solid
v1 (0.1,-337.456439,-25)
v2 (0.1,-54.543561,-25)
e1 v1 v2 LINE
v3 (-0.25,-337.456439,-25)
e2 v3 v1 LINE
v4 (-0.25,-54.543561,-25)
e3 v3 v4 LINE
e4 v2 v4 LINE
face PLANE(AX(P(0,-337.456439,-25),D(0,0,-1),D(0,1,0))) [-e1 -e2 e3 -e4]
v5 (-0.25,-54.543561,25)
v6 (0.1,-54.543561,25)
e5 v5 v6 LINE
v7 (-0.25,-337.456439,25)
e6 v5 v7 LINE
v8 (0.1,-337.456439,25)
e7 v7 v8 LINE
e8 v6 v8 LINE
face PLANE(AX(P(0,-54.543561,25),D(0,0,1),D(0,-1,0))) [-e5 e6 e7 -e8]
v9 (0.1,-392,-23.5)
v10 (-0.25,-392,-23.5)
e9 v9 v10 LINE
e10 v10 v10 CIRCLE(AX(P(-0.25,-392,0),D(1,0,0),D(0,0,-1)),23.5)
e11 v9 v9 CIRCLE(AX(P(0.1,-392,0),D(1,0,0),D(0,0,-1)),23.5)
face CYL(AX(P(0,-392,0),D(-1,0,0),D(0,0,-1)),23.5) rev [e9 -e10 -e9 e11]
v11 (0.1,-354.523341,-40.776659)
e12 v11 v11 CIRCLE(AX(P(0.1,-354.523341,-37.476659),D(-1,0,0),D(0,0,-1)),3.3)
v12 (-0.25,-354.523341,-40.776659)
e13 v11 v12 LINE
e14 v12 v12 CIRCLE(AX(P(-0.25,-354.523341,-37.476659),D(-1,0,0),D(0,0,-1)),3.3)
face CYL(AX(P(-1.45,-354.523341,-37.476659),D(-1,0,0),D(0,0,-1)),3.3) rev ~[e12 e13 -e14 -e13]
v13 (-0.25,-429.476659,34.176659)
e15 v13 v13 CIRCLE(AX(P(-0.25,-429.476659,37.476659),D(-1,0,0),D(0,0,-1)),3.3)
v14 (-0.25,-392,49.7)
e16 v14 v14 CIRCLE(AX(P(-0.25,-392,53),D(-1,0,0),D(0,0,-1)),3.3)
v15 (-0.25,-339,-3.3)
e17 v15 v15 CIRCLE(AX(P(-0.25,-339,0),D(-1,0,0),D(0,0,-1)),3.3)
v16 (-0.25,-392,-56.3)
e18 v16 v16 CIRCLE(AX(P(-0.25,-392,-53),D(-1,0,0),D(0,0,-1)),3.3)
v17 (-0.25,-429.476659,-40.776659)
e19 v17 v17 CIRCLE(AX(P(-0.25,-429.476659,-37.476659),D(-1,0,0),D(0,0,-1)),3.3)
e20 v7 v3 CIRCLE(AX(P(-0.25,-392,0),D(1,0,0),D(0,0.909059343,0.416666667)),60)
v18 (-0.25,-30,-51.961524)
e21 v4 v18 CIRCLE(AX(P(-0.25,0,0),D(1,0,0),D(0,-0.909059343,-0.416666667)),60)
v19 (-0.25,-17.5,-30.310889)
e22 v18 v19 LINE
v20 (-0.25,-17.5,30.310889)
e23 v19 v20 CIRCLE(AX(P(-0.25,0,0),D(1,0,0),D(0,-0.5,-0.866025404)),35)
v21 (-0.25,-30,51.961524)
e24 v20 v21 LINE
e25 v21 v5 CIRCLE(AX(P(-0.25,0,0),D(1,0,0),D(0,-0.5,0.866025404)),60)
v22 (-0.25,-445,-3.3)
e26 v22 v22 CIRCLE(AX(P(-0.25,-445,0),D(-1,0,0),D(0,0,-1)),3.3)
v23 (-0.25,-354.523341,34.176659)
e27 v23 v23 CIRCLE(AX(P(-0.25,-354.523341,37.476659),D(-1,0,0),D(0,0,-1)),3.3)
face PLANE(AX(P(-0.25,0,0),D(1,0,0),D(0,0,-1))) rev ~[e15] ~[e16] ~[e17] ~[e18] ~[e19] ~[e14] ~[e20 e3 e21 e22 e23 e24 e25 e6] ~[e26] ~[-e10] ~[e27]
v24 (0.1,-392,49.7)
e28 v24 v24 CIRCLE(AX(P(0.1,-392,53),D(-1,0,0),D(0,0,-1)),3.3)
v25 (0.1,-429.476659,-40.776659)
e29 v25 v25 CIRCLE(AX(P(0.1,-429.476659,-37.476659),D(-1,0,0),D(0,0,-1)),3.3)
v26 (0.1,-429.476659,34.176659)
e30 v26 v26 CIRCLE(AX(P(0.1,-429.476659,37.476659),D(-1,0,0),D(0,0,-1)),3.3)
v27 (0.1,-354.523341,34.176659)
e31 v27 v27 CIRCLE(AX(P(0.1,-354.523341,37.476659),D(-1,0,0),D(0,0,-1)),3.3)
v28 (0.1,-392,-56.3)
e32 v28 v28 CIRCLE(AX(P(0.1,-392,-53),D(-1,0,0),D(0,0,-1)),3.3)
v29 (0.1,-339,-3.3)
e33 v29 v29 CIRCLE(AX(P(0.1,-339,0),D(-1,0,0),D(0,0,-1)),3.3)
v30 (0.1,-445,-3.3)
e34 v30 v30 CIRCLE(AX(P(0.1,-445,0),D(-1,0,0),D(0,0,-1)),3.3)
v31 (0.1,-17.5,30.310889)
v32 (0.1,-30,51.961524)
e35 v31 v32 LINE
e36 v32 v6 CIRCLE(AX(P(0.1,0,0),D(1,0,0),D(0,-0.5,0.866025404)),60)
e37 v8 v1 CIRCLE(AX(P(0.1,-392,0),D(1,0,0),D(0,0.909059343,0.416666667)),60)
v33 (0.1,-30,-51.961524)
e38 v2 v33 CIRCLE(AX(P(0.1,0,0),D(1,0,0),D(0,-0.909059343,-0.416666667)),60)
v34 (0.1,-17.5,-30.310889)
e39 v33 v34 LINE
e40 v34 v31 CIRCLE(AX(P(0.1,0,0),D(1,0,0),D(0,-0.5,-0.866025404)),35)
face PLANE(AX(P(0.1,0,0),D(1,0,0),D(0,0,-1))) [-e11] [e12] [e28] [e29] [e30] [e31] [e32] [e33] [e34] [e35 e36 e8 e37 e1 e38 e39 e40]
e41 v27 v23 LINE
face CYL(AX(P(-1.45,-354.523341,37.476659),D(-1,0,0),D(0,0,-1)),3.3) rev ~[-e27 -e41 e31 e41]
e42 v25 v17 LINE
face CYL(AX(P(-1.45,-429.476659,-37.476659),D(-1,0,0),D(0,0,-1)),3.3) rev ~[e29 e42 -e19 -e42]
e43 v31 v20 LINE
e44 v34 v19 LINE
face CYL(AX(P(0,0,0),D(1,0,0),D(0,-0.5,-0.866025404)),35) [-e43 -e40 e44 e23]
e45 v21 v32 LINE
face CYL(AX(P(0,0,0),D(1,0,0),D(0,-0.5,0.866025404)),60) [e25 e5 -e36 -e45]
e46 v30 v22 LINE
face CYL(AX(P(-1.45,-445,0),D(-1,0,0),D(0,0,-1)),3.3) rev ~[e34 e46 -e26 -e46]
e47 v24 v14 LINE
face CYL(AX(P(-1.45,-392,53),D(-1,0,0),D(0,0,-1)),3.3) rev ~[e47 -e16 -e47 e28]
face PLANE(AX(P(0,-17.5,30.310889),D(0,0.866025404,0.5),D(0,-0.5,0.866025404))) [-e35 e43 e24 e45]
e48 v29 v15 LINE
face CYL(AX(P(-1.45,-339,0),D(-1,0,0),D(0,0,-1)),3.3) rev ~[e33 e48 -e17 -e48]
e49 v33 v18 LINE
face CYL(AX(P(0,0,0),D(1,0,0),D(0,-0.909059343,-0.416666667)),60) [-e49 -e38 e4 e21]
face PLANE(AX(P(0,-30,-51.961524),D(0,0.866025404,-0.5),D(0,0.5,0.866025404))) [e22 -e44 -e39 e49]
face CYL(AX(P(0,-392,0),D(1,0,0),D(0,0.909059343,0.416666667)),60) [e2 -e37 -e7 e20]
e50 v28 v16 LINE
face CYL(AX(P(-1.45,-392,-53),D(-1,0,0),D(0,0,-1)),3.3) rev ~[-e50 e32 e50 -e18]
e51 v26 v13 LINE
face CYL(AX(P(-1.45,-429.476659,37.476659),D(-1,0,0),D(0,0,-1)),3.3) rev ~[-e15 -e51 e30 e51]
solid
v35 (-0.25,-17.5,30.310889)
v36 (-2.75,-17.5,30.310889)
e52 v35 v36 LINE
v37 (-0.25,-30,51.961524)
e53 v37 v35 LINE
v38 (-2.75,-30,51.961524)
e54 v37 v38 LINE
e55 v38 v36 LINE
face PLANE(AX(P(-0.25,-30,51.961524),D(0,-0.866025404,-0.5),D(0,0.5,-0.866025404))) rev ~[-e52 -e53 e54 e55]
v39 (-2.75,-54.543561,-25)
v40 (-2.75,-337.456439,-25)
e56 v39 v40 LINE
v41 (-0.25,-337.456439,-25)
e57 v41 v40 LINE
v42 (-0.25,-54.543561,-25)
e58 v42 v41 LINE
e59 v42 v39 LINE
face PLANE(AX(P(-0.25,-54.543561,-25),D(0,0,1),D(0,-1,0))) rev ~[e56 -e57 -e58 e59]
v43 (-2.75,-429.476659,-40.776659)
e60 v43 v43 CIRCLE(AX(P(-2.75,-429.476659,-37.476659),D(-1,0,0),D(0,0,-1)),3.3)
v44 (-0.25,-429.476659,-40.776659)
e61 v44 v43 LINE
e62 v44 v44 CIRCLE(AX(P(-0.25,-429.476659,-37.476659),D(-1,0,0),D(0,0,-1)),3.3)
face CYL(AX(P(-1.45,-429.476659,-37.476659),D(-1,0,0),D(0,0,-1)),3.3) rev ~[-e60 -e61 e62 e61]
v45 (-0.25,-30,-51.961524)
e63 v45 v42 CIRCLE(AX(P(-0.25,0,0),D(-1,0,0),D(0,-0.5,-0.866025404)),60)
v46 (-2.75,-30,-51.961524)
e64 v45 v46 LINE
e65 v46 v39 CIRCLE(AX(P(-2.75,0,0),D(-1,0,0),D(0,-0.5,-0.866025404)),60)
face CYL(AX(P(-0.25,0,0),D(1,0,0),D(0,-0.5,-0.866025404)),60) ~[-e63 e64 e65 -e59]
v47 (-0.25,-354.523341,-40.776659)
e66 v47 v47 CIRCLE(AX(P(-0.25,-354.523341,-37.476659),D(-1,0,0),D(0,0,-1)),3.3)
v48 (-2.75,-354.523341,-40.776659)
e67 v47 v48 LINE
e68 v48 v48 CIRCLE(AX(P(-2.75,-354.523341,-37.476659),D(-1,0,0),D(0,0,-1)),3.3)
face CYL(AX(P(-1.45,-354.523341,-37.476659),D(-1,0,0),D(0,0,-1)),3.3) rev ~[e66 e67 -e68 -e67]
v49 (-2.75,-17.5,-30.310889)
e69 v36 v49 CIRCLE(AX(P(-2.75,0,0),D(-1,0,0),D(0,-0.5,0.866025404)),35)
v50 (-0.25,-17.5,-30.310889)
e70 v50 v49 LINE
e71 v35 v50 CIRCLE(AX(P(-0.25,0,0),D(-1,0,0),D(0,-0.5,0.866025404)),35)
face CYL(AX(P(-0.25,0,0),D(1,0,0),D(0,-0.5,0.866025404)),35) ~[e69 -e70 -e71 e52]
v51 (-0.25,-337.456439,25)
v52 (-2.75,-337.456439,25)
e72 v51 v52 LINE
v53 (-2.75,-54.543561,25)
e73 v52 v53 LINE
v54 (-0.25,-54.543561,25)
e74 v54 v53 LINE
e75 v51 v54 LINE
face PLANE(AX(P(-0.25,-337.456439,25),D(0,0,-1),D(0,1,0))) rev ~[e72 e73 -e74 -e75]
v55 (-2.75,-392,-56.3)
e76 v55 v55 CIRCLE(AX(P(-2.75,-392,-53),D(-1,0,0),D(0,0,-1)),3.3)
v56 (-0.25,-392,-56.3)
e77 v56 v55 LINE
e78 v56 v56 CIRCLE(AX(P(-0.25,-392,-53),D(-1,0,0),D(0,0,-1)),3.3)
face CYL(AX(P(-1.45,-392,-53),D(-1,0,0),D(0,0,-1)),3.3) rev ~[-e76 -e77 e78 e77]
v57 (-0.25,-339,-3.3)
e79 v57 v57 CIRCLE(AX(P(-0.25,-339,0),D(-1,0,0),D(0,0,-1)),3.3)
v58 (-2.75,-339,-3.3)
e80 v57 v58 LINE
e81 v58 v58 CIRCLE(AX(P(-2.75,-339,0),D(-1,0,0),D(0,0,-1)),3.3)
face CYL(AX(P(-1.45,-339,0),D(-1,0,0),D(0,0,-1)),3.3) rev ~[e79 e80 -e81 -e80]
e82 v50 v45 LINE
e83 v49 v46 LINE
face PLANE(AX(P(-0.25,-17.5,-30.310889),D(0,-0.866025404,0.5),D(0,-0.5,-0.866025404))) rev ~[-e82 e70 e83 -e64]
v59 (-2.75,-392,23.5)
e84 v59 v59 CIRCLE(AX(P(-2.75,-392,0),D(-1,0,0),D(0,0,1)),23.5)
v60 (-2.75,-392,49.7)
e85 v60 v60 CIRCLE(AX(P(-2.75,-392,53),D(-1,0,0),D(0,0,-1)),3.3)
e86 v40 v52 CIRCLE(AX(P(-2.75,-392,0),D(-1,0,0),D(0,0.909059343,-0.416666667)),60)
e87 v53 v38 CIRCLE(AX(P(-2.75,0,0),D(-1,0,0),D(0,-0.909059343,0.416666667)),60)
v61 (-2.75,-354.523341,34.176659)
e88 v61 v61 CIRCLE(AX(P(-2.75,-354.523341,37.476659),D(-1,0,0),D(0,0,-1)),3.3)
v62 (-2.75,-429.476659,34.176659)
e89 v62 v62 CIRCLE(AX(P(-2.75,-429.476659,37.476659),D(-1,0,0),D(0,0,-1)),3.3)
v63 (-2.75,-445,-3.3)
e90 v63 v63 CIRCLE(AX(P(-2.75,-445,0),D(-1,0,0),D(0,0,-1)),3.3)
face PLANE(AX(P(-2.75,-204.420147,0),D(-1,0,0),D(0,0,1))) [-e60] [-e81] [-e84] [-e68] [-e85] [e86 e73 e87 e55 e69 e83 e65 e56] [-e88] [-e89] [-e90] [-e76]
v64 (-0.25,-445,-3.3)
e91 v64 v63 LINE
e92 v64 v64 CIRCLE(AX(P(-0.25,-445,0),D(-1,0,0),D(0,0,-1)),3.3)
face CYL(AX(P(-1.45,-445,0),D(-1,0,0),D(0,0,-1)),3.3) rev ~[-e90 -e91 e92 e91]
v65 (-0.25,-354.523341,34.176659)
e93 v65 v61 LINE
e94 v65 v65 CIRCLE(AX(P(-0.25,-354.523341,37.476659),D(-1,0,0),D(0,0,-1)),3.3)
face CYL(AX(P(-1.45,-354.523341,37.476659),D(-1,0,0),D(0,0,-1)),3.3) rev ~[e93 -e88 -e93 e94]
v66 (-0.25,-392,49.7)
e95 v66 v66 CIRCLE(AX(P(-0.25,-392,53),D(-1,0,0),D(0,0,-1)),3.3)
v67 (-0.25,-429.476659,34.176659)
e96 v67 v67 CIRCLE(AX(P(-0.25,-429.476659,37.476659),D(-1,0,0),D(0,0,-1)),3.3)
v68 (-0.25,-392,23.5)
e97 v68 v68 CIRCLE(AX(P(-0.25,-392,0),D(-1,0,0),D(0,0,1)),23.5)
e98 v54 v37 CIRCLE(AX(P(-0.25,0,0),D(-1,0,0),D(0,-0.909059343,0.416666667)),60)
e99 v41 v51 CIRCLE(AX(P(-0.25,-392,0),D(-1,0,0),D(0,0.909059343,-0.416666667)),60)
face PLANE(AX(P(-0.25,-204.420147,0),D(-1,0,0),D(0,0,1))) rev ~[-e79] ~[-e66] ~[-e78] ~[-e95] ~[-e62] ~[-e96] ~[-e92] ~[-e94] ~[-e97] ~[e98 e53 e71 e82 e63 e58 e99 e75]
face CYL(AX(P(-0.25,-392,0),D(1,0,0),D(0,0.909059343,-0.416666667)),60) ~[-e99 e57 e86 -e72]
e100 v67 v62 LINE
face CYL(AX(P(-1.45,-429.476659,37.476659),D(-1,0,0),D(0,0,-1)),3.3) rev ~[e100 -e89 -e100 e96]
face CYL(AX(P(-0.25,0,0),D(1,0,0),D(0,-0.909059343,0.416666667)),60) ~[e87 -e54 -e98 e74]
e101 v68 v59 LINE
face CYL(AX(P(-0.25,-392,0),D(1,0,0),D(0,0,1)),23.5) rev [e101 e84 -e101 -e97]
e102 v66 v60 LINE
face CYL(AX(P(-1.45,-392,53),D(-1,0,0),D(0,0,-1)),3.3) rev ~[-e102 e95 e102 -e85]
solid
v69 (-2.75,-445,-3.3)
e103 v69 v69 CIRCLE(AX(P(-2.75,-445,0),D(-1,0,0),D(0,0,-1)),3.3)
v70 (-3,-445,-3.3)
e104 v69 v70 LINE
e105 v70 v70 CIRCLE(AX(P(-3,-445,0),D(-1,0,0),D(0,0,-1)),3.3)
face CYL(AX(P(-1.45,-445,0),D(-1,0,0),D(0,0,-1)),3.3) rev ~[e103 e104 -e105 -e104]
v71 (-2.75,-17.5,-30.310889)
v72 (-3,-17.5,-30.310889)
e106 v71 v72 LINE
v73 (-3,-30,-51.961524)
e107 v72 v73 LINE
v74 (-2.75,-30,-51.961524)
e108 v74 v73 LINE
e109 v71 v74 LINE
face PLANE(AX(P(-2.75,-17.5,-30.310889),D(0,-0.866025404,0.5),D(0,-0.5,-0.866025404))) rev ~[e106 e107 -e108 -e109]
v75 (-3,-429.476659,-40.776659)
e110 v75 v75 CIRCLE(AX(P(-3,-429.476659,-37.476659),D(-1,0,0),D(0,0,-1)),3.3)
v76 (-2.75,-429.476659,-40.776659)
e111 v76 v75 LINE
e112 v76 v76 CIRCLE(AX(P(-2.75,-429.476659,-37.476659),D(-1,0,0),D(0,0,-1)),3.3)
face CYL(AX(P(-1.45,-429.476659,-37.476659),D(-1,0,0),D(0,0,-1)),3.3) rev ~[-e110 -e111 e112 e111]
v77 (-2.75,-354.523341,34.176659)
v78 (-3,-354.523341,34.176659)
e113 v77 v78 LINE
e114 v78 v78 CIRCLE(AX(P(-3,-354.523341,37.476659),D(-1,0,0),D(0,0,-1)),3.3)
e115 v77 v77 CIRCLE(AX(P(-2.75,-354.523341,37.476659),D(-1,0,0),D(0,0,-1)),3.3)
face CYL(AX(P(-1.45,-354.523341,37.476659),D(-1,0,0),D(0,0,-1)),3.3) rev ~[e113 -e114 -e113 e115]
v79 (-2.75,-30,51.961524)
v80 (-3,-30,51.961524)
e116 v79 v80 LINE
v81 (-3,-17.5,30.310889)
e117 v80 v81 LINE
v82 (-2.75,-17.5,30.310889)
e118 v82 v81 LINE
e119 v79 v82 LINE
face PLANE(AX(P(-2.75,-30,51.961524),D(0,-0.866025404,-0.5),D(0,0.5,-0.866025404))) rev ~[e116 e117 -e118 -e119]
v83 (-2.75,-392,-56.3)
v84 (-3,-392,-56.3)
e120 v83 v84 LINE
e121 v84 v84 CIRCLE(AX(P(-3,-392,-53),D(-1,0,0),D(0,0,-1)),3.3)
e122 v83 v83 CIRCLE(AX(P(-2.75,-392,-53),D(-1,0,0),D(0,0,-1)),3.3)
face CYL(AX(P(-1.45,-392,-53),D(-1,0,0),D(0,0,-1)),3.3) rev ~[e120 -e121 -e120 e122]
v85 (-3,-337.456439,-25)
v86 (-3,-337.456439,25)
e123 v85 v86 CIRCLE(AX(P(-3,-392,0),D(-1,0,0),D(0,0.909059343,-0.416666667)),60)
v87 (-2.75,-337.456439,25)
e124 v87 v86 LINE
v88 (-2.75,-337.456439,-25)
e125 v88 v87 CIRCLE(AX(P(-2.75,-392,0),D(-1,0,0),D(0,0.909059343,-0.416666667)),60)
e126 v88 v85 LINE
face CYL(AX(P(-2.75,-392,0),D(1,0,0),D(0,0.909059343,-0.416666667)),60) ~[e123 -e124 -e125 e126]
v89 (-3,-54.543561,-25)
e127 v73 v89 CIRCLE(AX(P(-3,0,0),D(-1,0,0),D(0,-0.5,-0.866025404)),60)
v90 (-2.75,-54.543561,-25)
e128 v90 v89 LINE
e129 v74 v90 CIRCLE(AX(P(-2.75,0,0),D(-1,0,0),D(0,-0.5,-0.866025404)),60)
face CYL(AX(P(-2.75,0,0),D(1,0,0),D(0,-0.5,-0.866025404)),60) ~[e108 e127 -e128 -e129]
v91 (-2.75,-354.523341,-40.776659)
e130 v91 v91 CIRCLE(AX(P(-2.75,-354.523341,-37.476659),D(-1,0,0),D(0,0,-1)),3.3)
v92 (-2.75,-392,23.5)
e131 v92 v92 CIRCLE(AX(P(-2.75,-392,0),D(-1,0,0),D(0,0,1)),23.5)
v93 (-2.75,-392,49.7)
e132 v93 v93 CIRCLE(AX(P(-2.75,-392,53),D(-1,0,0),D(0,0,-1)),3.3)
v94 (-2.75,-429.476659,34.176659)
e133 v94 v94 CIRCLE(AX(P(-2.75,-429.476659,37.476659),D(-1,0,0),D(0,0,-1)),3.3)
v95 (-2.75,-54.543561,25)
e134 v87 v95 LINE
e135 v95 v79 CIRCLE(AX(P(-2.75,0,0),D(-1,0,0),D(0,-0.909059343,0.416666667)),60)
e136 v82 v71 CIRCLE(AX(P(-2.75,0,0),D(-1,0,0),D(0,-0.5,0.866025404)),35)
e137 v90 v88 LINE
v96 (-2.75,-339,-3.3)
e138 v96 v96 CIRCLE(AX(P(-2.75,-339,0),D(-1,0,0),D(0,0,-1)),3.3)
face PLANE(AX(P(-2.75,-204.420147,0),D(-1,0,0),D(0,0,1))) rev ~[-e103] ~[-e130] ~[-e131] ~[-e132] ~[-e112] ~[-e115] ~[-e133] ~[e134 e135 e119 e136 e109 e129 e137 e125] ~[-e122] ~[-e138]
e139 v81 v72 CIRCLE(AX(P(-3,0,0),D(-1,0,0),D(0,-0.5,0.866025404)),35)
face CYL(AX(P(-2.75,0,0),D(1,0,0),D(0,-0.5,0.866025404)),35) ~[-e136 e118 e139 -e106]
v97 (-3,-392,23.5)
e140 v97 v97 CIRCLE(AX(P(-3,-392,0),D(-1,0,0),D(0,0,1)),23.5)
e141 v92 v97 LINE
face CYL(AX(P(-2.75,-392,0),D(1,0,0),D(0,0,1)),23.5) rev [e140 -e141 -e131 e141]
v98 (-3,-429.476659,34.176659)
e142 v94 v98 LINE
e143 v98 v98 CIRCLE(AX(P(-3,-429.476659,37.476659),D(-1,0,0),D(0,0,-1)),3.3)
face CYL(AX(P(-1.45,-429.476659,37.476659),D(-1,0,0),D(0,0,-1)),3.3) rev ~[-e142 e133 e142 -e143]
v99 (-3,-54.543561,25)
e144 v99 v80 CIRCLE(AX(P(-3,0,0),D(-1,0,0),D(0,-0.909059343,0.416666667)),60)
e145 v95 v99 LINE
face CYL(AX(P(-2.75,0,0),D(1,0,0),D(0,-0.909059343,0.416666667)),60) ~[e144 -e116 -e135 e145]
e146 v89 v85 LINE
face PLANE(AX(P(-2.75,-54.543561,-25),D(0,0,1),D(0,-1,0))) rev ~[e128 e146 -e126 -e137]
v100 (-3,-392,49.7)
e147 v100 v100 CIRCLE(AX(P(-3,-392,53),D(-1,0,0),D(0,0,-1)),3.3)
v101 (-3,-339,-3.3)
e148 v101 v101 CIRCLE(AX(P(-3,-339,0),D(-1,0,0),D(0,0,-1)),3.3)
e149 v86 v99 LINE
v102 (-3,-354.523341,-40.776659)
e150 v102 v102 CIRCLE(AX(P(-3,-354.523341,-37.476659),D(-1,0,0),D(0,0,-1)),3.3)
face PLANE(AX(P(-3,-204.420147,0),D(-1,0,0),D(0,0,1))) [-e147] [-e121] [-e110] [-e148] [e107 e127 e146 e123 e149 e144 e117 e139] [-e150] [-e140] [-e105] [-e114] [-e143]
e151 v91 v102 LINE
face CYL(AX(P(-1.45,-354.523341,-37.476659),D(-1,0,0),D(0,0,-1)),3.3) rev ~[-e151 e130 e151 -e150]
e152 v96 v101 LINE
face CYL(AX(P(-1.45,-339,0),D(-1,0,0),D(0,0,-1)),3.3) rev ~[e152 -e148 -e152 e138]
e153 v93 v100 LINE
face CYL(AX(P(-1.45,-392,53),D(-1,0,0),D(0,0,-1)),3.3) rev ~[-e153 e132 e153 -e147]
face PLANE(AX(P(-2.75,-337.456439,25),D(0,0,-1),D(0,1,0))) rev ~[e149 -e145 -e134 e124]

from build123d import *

# Parameters (mm, degrees)
BOSS_EXTRUDE1_DEPTH           = 0.1
BOSS_EXTRUDE1_DEPTH_BACK      = 0.25
SKETCH1_R                     = 23.5
SKETCH2_R                     = 23.5
BOSS_EXTRUDE2_DEPTH           = 2.5
SKETCH4_R                     = 23.5
BOSS_EXTRUDE3_DEPTH           = 0.25
SKETCH6_W                     = 3.3
SKETCH6_H                     = 3.1
M6_CLEARANCE_HOLE1_AT_2_COUNT = 2
M6_CLEARANCE_HOLE1_AT_2_PITCH = 40.564443831
M6_CLEARANCE_HOLE1_AT_3_COUNT = 2
M6_CLEARANCE_HOLE1_AT_3_PITCH = 74.953318806
M6_CLEARANCE_HOLE1_AT_4_COUNT = 2
M6_CLEARANCE_HOLE1_AT_4_PITCH = 97.931230446
M6_CLEARANCE_HOLE1_AT_5_COUNT = 2
M6_CLEARANCE_HOLE1_AT_5_PITCH = 106
M6_CLEARANCE_HOLE1_AT_6_COUNT = 2
M6_CLEARANCE_HOLE1_AT_6_PITCH = 97.931230446
M6_CLEARANCE_HOLE1_AT_7_COUNT = 2
M6_CLEARANCE_HOLE1_AT_7_PITCH = 74.953318806
M6_CLEARANCE_HOLE1_AT_8_COUNT = 2
M6_CLEARANCE_HOLE1_AT_8_PITCH = 40.564443831


with BuildPart() as part:
    # Sketch1 → Boss-Extrude1 (new, two sides: drawn at the far end of the back side and taken through both)
    with BuildSketch(Plane(origin=(0, 0, 0), x_dir=(0, 0, -1), z_dir=(1, 0, 0)).offset(-BOSS_EXTRUDE1_DEPTH_BACK)):
        with BuildLine():
            Line((51.961524227, -30), (30.310889132, -17.5))
            ThreePointArc((30.310889132, -17.5), (0, 35), (-30.310889132, -17.5))
            Line((-30.310889132, -17.5), (-51.961524227, -30))
            ThreePointArc((-51.961524227, -30), (-40.390167668, -44.369295191), (-25, -54.543560573))
            Line((-25, -54.543560573), (-25, -337.456439427))
            ThreePointArc((-25, -337.456439427), (0, -452), (25, -337.456439427))
            Line((25, -337.456439427), (25, -54.543560573))
            ThreePointArc((25, -54.543560573), (40.390167668, -44.369295191), (51.961524227, -30))
        make_face()
        with Locations((0, -392)):
            Circle(SKETCH1_R, mode=Mode.SUBTRACT)
    extrude(amount=BOSS_EXTRUDE1_DEPTH + BOSS_EXTRUDE1_DEPTH_BACK)


with BuildPart() as body_2:
    # Sketch2 → Boss-Extrude2 (new body)
    with BuildSketch(Plane.ZY.offset(0.25)):
        with BuildLine():
            ThreePointArc((30.310889132, -17.5), (0, 35), (-30.310889132, -17.5))
            Line((-30.310889132, -17.5), (-51.961524227, -30))
            ThreePointArc((-51.961524227, -30), (-40.390167668, -44.369295191), (-25, -54.543560573))
            Line((-25, -54.543560573), (-25, -337.456439427))
            ThreePointArc((-25, -337.456439427), (0, -452), (25, -337.456439427))
            Line((25, -337.456439427), (25, -54.543560573))
            ThreePointArc((25, -54.543560573), (40.390167668, -44.369295191), (51.961524227, -30))
            Line((51.961524227, -30), (30.310889132, -17.5))
        make_face()
        with Locations((0, -392)):
            Circle(SKETCH2_R, mode=Mode.SUBTRACT)
    extrude(amount=BOSS_EXTRUDE2_DEPTH)


with BuildPart() as body_3:
    # Sketch4 → Boss-Extrude3 (new body)
    with BuildSketch(Plane.ZY.offset(2.75)):
        with BuildLine():
            Line((51.961524227, -30), (30.310889132, -17.5))
            ThreePointArc((30.310889132, -17.5), (0, 35), (-30.310889132, -17.5))
            Line((-30.310889132, -17.5), (-51.961524227, -30))
            ThreePointArc((-51.961524227, -30), (-40.390167668, -44.369295191), (-25, -54.543560573))
            Line((-25, -54.543560573), (-25, -337.456439427))
            ThreePointArc((-25, -337.456439427), (0, -452), (25, -337.456439427))
            Line((25, -337.456439427), (25, -54.543560573))
            ThreePointArc((25, -54.543560573), (40.390167668, -44.369295191), (51.961524227, -30))
        make_face()
        with Locations((0, -392)):
            Circle(SKETCH4_R, mode=Mode.SUBTRACT)
    extrude(amount=BOSS_EXTRUDE3_DEPTH)


with BuildPart() as m6_clearance_hole1_tool:
    # Sketch6 → M6 Clearance Hole1 (revolve)
    with BuildSketch(Plane(origin=(0.1, -354.523340597, -37.476659403), x_dir=(0, 0, -1), z_dir=(0, 1, 0))):
        with Locations((1.65, 1.55)):
            Rectangle(SKETCH6_W, SKETCH6_H)
    m6_clearance_hole1 = revolve(axis=Axis((6.45, -354.523340597, -37.476659403), (-1, 0, 0)))


with BuildPart() as part_1:
    add(part.part)

    # M6 Clearance Hole1: cut by m6_clearance_hole1_tool
    add(m6_clearance_hole1_tool.part, mode=Mode.SUBTRACT)


with BuildPart() as body_2_1:
    add(body_2.part)

    # M6 Clearance Hole1: cut by m6_clearance_hole1_tool
    add(m6_clearance_hole1_tool.part, mode=Mode.SUBTRACT)


with BuildPart() as body_3_1:
    add(body_3.part)

    # M6 Clearance Hole1: cut by m6_clearance_hole1_tool
    add(m6_clearance_hole1_tool.part, mode=Mode.SUBTRACT)


with BuildPart() as m6_clearance_hole1_at_2_tool:
    # M6 Clearance Hole1 at 2: M6 Clearance Hole1 ×2
    with Locations(*[Vector(0, -0.9238795325112888, -0.38268343236508495) * (i * M6_CLEARANCE_HOLE1_AT_2_PITCH) for i in range(1, M6_CLEARANCE_HOLE1_AT_2_COUNT)]):
        add(m6_clearance_hole1)


with BuildPart() as part_2:
    add(part_1.part)

    # M6 Clearance Hole1 at 2: cut by m6_clearance_hole1_at_2_tool
    add(m6_clearance_hole1_at_2_tool.part, mode=Mode.SUBTRACT)


with BuildPart() as body_2_2:
    add(body_2_1.part)

    # M6 Clearance Hole1 at 2: cut by m6_clearance_hole1_at_2_tool
    add(m6_clearance_hole1_at_2_tool.part, mode=Mode.SUBTRACT)


with BuildPart() as body_3_2:
    add(body_3_1.part)

    # M6 Clearance Hole1 at 2: cut by m6_clearance_hole1_at_2_tool
    add(m6_clearance_hole1_at_2_tool.part, mode=Mode.SUBTRACT)


with BuildPart() as m6_clearance_hole1_at_3_tool:
    # M6 Clearance Hole1 at 3: M6 Clearance Hole1 ×2
    with Locations(*[(0, -i * M6_CLEARANCE_HOLE1_AT_3_PITCH, 0) for i in range(1, M6_CLEARANCE_HOLE1_AT_3_COUNT)]):
        add(m6_clearance_hole1)


with BuildPart() as part_3:
    add(part_2.part)

    # M6 Clearance Hole1 at 3: cut by m6_clearance_hole1_at_3_tool
    add(m6_clearance_hole1_at_3_tool.part, mode=Mode.SUBTRACT)


with BuildPart() as body_2_3:
    add(body_2_2.part)

    # M6 Clearance Hole1 at 3: cut by m6_clearance_hole1_at_3_tool
    add(m6_clearance_hole1_at_3_tool.part, mode=Mode.SUBTRACT)


with BuildPart() as body_3_3:
    add(body_3_2.part)

    # M6 Clearance Hole1 at 3: cut by m6_clearance_hole1_at_3_tool
    add(m6_clearance_hole1_at_3_tool.part, mode=Mode.SUBTRACT)


with BuildPart() as m6_clearance_hole1_at_4_tool:
    # M6 Clearance Hole1 at 4: M6 Clearance Hole1 ×2
    with Locations(*[Vector(0, -0.9238795325112837, 0.38268343236509716) * (i * M6_CLEARANCE_HOLE1_AT_4_PITCH) for i in range(1, M6_CLEARANCE_HOLE1_AT_4_COUNT)]):
        add(m6_clearance_hole1)


with BuildPart() as part_4:
    add(part_3.part)

    # M6 Clearance Hole1 at 4: cut by m6_clearance_hole1_at_4_tool
    add(m6_clearance_hole1_at_4_tool.part, mode=Mode.SUBTRACT)


with BuildPart() as body_2_4:
    add(body_2_3.part)

    # M6 Clearance Hole1 at 4: cut by m6_clearance_hole1_at_4_tool
    add(m6_clearance_hole1_at_4_tool.part, mode=Mode.SUBTRACT)


with BuildPart() as body_3_4:
    add(body_3_3.part)

    # M6 Clearance Hole1 at 4: cut by m6_clearance_hole1_at_4_tool
    add(m6_clearance_hole1_at_4_tool.part, mode=Mode.SUBTRACT)


with BuildPart() as m6_clearance_hole1_at_5_tool:
    # M6 Clearance Hole1 at 5: M6 Clearance Hole1 ×2
    with Locations(*[Vector(0, -0.7071067811865405, 0.7071067811865547) * (i * M6_CLEARANCE_HOLE1_AT_5_PITCH) for i in range(1, M6_CLEARANCE_HOLE1_AT_5_COUNT)]):
        add(m6_clearance_hole1)


with BuildPart() as part_5:
    add(part_4.part)

    # M6 Clearance Hole1 at 5: cut by m6_clearance_hole1_at_5_tool
    add(m6_clearance_hole1_at_5_tool.part, mode=Mode.SUBTRACT)


with BuildPart() as body_2_5:
    add(body_2_4.part)

    # M6 Clearance Hole1 at 5: cut by m6_clearance_hole1_at_5_tool
    add(m6_clearance_hole1_at_5_tool.part, mode=Mode.SUBTRACT)


with BuildPart() as body_3_5:
    add(body_3_4.part)

    # M6 Clearance Hole1 at 5: cut by m6_clearance_hole1_at_5_tool
    add(m6_clearance_hole1_at_5_tool.part, mode=Mode.SUBTRACT)


with BuildPart() as m6_clearance_hole1_at_6_tool:
    # M6 Clearance Hole1 at 6: M6 Clearance Hole1 ×2
    with Locations(*[Vector(0, -0.3826834323650799, 0.9238795325112908) * (i * M6_CLEARANCE_HOLE1_AT_6_PITCH) for i in range(1, M6_CLEARANCE_HOLE1_AT_6_COUNT)]):
        add(m6_clearance_hole1)


with BuildPart() as part_6:
    add(part_5.part)

    # M6 Clearance Hole1 at 6: cut by m6_clearance_hole1_at_6_tool
    add(m6_clearance_hole1_at_6_tool.part, mode=Mode.SUBTRACT)


with BuildPart() as body_2_6:
    add(body_2_5.part)

    # M6 Clearance Hole1 at 6: cut by m6_clearance_hole1_at_6_tool
    add(m6_clearance_hole1_at_6_tool.part, mode=Mode.SUBTRACT)


with BuildPart() as body_3_6:
    add(body_3_5.part)

    # M6 Clearance Hole1 at 6: cut by m6_clearance_hole1_at_6_tool
    add(m6_clearance_hole1_at_6_tool.part, mode=Mode.SUBTRACT)


with BuildPart() as m6_clearance_hole1_at_7_tool:
    # M6 Clearance Hole1 at 7: M6 Clearance Hole1 ×2
    with Locations(*[(0, 0, i * M6_CLEARANCE_HOLE1_AT_7_PITCH) for i in range(1, M6_CLEARANCE_HOLE1_AT_7_COUNT)]):
        add(m6_clearance_hole1)


with BuildPart() as part_7:
    add(part_6.part)

    # M6 Clearance Hole1 at 7: cut by m6_clearance_hole1_at_7_tool
    add(m6_clearance_hole1_at_7_tool.part, mode=Mode.SUBTRACT)


with BuildPart() as body_2_7:
    add(body_2_6.part)

    # M6 Clearance Hole1 at 7: cut by m6_clearance_hole1_at_7_tool
    add(m6_clearance_hole1_at_7_tool.part, mode=Mode.SUBTRACT)


with BuildPart() as body_3_7:
    add(body_3_6.part)

    # M6 Clearance Hole1 at 7: cut by m6_clearance_hole1_at_7_tool
    add(m6_clearance_hole1_at_7_tool.part, mode=Mode.SUBTRACT)


with BuildPart() as m6_clearance_hole1_at_8_tool:
    # M6 Clearance Hole1 at 8: M6 Clearance Hole1 ×2
    with Locations(*[Vector(0, 0.38268343236510227, 0.9238795325112816) * (i * M6_CLEARANCE_HOLE1_AT_8_PITCH) for i in range(1, M6_CLEARANCE_HOLE1_AT_8_COUNT)]):
        add(m6_clearance_hole1)


with BuildPart() as part_8:
    add(part_7.part)

    # M6 Clearance Hole1 at 8: cut by m6_clearance_hole1_at_8_tool
    add(m6_clearance_hole1_at_8_tool.part, mode=Mode.SUBTRACT)


with BuildPart() as body_2_8:
    add(body_2_7.part)

    # M6 Clearance Hole1 at 8: cut by m6_clearance_hole1_at_8_tool
    add(m6_clearance_hole1_at_8_tool.part, mode=Mode.SUBTRACT)


with BuildPart() as body_3_8:
    add(body_3_7.part)

    # M6 Clearance Hole1 at 8: cut by m6_clearance_hole1_at_8_tool
    add(m6_clearance_hole1_at_8_tool.part, mode=Mode.SUBTRACT)


solid = Compound([part_8.part, body_2_8.part, body_3_8.part])
